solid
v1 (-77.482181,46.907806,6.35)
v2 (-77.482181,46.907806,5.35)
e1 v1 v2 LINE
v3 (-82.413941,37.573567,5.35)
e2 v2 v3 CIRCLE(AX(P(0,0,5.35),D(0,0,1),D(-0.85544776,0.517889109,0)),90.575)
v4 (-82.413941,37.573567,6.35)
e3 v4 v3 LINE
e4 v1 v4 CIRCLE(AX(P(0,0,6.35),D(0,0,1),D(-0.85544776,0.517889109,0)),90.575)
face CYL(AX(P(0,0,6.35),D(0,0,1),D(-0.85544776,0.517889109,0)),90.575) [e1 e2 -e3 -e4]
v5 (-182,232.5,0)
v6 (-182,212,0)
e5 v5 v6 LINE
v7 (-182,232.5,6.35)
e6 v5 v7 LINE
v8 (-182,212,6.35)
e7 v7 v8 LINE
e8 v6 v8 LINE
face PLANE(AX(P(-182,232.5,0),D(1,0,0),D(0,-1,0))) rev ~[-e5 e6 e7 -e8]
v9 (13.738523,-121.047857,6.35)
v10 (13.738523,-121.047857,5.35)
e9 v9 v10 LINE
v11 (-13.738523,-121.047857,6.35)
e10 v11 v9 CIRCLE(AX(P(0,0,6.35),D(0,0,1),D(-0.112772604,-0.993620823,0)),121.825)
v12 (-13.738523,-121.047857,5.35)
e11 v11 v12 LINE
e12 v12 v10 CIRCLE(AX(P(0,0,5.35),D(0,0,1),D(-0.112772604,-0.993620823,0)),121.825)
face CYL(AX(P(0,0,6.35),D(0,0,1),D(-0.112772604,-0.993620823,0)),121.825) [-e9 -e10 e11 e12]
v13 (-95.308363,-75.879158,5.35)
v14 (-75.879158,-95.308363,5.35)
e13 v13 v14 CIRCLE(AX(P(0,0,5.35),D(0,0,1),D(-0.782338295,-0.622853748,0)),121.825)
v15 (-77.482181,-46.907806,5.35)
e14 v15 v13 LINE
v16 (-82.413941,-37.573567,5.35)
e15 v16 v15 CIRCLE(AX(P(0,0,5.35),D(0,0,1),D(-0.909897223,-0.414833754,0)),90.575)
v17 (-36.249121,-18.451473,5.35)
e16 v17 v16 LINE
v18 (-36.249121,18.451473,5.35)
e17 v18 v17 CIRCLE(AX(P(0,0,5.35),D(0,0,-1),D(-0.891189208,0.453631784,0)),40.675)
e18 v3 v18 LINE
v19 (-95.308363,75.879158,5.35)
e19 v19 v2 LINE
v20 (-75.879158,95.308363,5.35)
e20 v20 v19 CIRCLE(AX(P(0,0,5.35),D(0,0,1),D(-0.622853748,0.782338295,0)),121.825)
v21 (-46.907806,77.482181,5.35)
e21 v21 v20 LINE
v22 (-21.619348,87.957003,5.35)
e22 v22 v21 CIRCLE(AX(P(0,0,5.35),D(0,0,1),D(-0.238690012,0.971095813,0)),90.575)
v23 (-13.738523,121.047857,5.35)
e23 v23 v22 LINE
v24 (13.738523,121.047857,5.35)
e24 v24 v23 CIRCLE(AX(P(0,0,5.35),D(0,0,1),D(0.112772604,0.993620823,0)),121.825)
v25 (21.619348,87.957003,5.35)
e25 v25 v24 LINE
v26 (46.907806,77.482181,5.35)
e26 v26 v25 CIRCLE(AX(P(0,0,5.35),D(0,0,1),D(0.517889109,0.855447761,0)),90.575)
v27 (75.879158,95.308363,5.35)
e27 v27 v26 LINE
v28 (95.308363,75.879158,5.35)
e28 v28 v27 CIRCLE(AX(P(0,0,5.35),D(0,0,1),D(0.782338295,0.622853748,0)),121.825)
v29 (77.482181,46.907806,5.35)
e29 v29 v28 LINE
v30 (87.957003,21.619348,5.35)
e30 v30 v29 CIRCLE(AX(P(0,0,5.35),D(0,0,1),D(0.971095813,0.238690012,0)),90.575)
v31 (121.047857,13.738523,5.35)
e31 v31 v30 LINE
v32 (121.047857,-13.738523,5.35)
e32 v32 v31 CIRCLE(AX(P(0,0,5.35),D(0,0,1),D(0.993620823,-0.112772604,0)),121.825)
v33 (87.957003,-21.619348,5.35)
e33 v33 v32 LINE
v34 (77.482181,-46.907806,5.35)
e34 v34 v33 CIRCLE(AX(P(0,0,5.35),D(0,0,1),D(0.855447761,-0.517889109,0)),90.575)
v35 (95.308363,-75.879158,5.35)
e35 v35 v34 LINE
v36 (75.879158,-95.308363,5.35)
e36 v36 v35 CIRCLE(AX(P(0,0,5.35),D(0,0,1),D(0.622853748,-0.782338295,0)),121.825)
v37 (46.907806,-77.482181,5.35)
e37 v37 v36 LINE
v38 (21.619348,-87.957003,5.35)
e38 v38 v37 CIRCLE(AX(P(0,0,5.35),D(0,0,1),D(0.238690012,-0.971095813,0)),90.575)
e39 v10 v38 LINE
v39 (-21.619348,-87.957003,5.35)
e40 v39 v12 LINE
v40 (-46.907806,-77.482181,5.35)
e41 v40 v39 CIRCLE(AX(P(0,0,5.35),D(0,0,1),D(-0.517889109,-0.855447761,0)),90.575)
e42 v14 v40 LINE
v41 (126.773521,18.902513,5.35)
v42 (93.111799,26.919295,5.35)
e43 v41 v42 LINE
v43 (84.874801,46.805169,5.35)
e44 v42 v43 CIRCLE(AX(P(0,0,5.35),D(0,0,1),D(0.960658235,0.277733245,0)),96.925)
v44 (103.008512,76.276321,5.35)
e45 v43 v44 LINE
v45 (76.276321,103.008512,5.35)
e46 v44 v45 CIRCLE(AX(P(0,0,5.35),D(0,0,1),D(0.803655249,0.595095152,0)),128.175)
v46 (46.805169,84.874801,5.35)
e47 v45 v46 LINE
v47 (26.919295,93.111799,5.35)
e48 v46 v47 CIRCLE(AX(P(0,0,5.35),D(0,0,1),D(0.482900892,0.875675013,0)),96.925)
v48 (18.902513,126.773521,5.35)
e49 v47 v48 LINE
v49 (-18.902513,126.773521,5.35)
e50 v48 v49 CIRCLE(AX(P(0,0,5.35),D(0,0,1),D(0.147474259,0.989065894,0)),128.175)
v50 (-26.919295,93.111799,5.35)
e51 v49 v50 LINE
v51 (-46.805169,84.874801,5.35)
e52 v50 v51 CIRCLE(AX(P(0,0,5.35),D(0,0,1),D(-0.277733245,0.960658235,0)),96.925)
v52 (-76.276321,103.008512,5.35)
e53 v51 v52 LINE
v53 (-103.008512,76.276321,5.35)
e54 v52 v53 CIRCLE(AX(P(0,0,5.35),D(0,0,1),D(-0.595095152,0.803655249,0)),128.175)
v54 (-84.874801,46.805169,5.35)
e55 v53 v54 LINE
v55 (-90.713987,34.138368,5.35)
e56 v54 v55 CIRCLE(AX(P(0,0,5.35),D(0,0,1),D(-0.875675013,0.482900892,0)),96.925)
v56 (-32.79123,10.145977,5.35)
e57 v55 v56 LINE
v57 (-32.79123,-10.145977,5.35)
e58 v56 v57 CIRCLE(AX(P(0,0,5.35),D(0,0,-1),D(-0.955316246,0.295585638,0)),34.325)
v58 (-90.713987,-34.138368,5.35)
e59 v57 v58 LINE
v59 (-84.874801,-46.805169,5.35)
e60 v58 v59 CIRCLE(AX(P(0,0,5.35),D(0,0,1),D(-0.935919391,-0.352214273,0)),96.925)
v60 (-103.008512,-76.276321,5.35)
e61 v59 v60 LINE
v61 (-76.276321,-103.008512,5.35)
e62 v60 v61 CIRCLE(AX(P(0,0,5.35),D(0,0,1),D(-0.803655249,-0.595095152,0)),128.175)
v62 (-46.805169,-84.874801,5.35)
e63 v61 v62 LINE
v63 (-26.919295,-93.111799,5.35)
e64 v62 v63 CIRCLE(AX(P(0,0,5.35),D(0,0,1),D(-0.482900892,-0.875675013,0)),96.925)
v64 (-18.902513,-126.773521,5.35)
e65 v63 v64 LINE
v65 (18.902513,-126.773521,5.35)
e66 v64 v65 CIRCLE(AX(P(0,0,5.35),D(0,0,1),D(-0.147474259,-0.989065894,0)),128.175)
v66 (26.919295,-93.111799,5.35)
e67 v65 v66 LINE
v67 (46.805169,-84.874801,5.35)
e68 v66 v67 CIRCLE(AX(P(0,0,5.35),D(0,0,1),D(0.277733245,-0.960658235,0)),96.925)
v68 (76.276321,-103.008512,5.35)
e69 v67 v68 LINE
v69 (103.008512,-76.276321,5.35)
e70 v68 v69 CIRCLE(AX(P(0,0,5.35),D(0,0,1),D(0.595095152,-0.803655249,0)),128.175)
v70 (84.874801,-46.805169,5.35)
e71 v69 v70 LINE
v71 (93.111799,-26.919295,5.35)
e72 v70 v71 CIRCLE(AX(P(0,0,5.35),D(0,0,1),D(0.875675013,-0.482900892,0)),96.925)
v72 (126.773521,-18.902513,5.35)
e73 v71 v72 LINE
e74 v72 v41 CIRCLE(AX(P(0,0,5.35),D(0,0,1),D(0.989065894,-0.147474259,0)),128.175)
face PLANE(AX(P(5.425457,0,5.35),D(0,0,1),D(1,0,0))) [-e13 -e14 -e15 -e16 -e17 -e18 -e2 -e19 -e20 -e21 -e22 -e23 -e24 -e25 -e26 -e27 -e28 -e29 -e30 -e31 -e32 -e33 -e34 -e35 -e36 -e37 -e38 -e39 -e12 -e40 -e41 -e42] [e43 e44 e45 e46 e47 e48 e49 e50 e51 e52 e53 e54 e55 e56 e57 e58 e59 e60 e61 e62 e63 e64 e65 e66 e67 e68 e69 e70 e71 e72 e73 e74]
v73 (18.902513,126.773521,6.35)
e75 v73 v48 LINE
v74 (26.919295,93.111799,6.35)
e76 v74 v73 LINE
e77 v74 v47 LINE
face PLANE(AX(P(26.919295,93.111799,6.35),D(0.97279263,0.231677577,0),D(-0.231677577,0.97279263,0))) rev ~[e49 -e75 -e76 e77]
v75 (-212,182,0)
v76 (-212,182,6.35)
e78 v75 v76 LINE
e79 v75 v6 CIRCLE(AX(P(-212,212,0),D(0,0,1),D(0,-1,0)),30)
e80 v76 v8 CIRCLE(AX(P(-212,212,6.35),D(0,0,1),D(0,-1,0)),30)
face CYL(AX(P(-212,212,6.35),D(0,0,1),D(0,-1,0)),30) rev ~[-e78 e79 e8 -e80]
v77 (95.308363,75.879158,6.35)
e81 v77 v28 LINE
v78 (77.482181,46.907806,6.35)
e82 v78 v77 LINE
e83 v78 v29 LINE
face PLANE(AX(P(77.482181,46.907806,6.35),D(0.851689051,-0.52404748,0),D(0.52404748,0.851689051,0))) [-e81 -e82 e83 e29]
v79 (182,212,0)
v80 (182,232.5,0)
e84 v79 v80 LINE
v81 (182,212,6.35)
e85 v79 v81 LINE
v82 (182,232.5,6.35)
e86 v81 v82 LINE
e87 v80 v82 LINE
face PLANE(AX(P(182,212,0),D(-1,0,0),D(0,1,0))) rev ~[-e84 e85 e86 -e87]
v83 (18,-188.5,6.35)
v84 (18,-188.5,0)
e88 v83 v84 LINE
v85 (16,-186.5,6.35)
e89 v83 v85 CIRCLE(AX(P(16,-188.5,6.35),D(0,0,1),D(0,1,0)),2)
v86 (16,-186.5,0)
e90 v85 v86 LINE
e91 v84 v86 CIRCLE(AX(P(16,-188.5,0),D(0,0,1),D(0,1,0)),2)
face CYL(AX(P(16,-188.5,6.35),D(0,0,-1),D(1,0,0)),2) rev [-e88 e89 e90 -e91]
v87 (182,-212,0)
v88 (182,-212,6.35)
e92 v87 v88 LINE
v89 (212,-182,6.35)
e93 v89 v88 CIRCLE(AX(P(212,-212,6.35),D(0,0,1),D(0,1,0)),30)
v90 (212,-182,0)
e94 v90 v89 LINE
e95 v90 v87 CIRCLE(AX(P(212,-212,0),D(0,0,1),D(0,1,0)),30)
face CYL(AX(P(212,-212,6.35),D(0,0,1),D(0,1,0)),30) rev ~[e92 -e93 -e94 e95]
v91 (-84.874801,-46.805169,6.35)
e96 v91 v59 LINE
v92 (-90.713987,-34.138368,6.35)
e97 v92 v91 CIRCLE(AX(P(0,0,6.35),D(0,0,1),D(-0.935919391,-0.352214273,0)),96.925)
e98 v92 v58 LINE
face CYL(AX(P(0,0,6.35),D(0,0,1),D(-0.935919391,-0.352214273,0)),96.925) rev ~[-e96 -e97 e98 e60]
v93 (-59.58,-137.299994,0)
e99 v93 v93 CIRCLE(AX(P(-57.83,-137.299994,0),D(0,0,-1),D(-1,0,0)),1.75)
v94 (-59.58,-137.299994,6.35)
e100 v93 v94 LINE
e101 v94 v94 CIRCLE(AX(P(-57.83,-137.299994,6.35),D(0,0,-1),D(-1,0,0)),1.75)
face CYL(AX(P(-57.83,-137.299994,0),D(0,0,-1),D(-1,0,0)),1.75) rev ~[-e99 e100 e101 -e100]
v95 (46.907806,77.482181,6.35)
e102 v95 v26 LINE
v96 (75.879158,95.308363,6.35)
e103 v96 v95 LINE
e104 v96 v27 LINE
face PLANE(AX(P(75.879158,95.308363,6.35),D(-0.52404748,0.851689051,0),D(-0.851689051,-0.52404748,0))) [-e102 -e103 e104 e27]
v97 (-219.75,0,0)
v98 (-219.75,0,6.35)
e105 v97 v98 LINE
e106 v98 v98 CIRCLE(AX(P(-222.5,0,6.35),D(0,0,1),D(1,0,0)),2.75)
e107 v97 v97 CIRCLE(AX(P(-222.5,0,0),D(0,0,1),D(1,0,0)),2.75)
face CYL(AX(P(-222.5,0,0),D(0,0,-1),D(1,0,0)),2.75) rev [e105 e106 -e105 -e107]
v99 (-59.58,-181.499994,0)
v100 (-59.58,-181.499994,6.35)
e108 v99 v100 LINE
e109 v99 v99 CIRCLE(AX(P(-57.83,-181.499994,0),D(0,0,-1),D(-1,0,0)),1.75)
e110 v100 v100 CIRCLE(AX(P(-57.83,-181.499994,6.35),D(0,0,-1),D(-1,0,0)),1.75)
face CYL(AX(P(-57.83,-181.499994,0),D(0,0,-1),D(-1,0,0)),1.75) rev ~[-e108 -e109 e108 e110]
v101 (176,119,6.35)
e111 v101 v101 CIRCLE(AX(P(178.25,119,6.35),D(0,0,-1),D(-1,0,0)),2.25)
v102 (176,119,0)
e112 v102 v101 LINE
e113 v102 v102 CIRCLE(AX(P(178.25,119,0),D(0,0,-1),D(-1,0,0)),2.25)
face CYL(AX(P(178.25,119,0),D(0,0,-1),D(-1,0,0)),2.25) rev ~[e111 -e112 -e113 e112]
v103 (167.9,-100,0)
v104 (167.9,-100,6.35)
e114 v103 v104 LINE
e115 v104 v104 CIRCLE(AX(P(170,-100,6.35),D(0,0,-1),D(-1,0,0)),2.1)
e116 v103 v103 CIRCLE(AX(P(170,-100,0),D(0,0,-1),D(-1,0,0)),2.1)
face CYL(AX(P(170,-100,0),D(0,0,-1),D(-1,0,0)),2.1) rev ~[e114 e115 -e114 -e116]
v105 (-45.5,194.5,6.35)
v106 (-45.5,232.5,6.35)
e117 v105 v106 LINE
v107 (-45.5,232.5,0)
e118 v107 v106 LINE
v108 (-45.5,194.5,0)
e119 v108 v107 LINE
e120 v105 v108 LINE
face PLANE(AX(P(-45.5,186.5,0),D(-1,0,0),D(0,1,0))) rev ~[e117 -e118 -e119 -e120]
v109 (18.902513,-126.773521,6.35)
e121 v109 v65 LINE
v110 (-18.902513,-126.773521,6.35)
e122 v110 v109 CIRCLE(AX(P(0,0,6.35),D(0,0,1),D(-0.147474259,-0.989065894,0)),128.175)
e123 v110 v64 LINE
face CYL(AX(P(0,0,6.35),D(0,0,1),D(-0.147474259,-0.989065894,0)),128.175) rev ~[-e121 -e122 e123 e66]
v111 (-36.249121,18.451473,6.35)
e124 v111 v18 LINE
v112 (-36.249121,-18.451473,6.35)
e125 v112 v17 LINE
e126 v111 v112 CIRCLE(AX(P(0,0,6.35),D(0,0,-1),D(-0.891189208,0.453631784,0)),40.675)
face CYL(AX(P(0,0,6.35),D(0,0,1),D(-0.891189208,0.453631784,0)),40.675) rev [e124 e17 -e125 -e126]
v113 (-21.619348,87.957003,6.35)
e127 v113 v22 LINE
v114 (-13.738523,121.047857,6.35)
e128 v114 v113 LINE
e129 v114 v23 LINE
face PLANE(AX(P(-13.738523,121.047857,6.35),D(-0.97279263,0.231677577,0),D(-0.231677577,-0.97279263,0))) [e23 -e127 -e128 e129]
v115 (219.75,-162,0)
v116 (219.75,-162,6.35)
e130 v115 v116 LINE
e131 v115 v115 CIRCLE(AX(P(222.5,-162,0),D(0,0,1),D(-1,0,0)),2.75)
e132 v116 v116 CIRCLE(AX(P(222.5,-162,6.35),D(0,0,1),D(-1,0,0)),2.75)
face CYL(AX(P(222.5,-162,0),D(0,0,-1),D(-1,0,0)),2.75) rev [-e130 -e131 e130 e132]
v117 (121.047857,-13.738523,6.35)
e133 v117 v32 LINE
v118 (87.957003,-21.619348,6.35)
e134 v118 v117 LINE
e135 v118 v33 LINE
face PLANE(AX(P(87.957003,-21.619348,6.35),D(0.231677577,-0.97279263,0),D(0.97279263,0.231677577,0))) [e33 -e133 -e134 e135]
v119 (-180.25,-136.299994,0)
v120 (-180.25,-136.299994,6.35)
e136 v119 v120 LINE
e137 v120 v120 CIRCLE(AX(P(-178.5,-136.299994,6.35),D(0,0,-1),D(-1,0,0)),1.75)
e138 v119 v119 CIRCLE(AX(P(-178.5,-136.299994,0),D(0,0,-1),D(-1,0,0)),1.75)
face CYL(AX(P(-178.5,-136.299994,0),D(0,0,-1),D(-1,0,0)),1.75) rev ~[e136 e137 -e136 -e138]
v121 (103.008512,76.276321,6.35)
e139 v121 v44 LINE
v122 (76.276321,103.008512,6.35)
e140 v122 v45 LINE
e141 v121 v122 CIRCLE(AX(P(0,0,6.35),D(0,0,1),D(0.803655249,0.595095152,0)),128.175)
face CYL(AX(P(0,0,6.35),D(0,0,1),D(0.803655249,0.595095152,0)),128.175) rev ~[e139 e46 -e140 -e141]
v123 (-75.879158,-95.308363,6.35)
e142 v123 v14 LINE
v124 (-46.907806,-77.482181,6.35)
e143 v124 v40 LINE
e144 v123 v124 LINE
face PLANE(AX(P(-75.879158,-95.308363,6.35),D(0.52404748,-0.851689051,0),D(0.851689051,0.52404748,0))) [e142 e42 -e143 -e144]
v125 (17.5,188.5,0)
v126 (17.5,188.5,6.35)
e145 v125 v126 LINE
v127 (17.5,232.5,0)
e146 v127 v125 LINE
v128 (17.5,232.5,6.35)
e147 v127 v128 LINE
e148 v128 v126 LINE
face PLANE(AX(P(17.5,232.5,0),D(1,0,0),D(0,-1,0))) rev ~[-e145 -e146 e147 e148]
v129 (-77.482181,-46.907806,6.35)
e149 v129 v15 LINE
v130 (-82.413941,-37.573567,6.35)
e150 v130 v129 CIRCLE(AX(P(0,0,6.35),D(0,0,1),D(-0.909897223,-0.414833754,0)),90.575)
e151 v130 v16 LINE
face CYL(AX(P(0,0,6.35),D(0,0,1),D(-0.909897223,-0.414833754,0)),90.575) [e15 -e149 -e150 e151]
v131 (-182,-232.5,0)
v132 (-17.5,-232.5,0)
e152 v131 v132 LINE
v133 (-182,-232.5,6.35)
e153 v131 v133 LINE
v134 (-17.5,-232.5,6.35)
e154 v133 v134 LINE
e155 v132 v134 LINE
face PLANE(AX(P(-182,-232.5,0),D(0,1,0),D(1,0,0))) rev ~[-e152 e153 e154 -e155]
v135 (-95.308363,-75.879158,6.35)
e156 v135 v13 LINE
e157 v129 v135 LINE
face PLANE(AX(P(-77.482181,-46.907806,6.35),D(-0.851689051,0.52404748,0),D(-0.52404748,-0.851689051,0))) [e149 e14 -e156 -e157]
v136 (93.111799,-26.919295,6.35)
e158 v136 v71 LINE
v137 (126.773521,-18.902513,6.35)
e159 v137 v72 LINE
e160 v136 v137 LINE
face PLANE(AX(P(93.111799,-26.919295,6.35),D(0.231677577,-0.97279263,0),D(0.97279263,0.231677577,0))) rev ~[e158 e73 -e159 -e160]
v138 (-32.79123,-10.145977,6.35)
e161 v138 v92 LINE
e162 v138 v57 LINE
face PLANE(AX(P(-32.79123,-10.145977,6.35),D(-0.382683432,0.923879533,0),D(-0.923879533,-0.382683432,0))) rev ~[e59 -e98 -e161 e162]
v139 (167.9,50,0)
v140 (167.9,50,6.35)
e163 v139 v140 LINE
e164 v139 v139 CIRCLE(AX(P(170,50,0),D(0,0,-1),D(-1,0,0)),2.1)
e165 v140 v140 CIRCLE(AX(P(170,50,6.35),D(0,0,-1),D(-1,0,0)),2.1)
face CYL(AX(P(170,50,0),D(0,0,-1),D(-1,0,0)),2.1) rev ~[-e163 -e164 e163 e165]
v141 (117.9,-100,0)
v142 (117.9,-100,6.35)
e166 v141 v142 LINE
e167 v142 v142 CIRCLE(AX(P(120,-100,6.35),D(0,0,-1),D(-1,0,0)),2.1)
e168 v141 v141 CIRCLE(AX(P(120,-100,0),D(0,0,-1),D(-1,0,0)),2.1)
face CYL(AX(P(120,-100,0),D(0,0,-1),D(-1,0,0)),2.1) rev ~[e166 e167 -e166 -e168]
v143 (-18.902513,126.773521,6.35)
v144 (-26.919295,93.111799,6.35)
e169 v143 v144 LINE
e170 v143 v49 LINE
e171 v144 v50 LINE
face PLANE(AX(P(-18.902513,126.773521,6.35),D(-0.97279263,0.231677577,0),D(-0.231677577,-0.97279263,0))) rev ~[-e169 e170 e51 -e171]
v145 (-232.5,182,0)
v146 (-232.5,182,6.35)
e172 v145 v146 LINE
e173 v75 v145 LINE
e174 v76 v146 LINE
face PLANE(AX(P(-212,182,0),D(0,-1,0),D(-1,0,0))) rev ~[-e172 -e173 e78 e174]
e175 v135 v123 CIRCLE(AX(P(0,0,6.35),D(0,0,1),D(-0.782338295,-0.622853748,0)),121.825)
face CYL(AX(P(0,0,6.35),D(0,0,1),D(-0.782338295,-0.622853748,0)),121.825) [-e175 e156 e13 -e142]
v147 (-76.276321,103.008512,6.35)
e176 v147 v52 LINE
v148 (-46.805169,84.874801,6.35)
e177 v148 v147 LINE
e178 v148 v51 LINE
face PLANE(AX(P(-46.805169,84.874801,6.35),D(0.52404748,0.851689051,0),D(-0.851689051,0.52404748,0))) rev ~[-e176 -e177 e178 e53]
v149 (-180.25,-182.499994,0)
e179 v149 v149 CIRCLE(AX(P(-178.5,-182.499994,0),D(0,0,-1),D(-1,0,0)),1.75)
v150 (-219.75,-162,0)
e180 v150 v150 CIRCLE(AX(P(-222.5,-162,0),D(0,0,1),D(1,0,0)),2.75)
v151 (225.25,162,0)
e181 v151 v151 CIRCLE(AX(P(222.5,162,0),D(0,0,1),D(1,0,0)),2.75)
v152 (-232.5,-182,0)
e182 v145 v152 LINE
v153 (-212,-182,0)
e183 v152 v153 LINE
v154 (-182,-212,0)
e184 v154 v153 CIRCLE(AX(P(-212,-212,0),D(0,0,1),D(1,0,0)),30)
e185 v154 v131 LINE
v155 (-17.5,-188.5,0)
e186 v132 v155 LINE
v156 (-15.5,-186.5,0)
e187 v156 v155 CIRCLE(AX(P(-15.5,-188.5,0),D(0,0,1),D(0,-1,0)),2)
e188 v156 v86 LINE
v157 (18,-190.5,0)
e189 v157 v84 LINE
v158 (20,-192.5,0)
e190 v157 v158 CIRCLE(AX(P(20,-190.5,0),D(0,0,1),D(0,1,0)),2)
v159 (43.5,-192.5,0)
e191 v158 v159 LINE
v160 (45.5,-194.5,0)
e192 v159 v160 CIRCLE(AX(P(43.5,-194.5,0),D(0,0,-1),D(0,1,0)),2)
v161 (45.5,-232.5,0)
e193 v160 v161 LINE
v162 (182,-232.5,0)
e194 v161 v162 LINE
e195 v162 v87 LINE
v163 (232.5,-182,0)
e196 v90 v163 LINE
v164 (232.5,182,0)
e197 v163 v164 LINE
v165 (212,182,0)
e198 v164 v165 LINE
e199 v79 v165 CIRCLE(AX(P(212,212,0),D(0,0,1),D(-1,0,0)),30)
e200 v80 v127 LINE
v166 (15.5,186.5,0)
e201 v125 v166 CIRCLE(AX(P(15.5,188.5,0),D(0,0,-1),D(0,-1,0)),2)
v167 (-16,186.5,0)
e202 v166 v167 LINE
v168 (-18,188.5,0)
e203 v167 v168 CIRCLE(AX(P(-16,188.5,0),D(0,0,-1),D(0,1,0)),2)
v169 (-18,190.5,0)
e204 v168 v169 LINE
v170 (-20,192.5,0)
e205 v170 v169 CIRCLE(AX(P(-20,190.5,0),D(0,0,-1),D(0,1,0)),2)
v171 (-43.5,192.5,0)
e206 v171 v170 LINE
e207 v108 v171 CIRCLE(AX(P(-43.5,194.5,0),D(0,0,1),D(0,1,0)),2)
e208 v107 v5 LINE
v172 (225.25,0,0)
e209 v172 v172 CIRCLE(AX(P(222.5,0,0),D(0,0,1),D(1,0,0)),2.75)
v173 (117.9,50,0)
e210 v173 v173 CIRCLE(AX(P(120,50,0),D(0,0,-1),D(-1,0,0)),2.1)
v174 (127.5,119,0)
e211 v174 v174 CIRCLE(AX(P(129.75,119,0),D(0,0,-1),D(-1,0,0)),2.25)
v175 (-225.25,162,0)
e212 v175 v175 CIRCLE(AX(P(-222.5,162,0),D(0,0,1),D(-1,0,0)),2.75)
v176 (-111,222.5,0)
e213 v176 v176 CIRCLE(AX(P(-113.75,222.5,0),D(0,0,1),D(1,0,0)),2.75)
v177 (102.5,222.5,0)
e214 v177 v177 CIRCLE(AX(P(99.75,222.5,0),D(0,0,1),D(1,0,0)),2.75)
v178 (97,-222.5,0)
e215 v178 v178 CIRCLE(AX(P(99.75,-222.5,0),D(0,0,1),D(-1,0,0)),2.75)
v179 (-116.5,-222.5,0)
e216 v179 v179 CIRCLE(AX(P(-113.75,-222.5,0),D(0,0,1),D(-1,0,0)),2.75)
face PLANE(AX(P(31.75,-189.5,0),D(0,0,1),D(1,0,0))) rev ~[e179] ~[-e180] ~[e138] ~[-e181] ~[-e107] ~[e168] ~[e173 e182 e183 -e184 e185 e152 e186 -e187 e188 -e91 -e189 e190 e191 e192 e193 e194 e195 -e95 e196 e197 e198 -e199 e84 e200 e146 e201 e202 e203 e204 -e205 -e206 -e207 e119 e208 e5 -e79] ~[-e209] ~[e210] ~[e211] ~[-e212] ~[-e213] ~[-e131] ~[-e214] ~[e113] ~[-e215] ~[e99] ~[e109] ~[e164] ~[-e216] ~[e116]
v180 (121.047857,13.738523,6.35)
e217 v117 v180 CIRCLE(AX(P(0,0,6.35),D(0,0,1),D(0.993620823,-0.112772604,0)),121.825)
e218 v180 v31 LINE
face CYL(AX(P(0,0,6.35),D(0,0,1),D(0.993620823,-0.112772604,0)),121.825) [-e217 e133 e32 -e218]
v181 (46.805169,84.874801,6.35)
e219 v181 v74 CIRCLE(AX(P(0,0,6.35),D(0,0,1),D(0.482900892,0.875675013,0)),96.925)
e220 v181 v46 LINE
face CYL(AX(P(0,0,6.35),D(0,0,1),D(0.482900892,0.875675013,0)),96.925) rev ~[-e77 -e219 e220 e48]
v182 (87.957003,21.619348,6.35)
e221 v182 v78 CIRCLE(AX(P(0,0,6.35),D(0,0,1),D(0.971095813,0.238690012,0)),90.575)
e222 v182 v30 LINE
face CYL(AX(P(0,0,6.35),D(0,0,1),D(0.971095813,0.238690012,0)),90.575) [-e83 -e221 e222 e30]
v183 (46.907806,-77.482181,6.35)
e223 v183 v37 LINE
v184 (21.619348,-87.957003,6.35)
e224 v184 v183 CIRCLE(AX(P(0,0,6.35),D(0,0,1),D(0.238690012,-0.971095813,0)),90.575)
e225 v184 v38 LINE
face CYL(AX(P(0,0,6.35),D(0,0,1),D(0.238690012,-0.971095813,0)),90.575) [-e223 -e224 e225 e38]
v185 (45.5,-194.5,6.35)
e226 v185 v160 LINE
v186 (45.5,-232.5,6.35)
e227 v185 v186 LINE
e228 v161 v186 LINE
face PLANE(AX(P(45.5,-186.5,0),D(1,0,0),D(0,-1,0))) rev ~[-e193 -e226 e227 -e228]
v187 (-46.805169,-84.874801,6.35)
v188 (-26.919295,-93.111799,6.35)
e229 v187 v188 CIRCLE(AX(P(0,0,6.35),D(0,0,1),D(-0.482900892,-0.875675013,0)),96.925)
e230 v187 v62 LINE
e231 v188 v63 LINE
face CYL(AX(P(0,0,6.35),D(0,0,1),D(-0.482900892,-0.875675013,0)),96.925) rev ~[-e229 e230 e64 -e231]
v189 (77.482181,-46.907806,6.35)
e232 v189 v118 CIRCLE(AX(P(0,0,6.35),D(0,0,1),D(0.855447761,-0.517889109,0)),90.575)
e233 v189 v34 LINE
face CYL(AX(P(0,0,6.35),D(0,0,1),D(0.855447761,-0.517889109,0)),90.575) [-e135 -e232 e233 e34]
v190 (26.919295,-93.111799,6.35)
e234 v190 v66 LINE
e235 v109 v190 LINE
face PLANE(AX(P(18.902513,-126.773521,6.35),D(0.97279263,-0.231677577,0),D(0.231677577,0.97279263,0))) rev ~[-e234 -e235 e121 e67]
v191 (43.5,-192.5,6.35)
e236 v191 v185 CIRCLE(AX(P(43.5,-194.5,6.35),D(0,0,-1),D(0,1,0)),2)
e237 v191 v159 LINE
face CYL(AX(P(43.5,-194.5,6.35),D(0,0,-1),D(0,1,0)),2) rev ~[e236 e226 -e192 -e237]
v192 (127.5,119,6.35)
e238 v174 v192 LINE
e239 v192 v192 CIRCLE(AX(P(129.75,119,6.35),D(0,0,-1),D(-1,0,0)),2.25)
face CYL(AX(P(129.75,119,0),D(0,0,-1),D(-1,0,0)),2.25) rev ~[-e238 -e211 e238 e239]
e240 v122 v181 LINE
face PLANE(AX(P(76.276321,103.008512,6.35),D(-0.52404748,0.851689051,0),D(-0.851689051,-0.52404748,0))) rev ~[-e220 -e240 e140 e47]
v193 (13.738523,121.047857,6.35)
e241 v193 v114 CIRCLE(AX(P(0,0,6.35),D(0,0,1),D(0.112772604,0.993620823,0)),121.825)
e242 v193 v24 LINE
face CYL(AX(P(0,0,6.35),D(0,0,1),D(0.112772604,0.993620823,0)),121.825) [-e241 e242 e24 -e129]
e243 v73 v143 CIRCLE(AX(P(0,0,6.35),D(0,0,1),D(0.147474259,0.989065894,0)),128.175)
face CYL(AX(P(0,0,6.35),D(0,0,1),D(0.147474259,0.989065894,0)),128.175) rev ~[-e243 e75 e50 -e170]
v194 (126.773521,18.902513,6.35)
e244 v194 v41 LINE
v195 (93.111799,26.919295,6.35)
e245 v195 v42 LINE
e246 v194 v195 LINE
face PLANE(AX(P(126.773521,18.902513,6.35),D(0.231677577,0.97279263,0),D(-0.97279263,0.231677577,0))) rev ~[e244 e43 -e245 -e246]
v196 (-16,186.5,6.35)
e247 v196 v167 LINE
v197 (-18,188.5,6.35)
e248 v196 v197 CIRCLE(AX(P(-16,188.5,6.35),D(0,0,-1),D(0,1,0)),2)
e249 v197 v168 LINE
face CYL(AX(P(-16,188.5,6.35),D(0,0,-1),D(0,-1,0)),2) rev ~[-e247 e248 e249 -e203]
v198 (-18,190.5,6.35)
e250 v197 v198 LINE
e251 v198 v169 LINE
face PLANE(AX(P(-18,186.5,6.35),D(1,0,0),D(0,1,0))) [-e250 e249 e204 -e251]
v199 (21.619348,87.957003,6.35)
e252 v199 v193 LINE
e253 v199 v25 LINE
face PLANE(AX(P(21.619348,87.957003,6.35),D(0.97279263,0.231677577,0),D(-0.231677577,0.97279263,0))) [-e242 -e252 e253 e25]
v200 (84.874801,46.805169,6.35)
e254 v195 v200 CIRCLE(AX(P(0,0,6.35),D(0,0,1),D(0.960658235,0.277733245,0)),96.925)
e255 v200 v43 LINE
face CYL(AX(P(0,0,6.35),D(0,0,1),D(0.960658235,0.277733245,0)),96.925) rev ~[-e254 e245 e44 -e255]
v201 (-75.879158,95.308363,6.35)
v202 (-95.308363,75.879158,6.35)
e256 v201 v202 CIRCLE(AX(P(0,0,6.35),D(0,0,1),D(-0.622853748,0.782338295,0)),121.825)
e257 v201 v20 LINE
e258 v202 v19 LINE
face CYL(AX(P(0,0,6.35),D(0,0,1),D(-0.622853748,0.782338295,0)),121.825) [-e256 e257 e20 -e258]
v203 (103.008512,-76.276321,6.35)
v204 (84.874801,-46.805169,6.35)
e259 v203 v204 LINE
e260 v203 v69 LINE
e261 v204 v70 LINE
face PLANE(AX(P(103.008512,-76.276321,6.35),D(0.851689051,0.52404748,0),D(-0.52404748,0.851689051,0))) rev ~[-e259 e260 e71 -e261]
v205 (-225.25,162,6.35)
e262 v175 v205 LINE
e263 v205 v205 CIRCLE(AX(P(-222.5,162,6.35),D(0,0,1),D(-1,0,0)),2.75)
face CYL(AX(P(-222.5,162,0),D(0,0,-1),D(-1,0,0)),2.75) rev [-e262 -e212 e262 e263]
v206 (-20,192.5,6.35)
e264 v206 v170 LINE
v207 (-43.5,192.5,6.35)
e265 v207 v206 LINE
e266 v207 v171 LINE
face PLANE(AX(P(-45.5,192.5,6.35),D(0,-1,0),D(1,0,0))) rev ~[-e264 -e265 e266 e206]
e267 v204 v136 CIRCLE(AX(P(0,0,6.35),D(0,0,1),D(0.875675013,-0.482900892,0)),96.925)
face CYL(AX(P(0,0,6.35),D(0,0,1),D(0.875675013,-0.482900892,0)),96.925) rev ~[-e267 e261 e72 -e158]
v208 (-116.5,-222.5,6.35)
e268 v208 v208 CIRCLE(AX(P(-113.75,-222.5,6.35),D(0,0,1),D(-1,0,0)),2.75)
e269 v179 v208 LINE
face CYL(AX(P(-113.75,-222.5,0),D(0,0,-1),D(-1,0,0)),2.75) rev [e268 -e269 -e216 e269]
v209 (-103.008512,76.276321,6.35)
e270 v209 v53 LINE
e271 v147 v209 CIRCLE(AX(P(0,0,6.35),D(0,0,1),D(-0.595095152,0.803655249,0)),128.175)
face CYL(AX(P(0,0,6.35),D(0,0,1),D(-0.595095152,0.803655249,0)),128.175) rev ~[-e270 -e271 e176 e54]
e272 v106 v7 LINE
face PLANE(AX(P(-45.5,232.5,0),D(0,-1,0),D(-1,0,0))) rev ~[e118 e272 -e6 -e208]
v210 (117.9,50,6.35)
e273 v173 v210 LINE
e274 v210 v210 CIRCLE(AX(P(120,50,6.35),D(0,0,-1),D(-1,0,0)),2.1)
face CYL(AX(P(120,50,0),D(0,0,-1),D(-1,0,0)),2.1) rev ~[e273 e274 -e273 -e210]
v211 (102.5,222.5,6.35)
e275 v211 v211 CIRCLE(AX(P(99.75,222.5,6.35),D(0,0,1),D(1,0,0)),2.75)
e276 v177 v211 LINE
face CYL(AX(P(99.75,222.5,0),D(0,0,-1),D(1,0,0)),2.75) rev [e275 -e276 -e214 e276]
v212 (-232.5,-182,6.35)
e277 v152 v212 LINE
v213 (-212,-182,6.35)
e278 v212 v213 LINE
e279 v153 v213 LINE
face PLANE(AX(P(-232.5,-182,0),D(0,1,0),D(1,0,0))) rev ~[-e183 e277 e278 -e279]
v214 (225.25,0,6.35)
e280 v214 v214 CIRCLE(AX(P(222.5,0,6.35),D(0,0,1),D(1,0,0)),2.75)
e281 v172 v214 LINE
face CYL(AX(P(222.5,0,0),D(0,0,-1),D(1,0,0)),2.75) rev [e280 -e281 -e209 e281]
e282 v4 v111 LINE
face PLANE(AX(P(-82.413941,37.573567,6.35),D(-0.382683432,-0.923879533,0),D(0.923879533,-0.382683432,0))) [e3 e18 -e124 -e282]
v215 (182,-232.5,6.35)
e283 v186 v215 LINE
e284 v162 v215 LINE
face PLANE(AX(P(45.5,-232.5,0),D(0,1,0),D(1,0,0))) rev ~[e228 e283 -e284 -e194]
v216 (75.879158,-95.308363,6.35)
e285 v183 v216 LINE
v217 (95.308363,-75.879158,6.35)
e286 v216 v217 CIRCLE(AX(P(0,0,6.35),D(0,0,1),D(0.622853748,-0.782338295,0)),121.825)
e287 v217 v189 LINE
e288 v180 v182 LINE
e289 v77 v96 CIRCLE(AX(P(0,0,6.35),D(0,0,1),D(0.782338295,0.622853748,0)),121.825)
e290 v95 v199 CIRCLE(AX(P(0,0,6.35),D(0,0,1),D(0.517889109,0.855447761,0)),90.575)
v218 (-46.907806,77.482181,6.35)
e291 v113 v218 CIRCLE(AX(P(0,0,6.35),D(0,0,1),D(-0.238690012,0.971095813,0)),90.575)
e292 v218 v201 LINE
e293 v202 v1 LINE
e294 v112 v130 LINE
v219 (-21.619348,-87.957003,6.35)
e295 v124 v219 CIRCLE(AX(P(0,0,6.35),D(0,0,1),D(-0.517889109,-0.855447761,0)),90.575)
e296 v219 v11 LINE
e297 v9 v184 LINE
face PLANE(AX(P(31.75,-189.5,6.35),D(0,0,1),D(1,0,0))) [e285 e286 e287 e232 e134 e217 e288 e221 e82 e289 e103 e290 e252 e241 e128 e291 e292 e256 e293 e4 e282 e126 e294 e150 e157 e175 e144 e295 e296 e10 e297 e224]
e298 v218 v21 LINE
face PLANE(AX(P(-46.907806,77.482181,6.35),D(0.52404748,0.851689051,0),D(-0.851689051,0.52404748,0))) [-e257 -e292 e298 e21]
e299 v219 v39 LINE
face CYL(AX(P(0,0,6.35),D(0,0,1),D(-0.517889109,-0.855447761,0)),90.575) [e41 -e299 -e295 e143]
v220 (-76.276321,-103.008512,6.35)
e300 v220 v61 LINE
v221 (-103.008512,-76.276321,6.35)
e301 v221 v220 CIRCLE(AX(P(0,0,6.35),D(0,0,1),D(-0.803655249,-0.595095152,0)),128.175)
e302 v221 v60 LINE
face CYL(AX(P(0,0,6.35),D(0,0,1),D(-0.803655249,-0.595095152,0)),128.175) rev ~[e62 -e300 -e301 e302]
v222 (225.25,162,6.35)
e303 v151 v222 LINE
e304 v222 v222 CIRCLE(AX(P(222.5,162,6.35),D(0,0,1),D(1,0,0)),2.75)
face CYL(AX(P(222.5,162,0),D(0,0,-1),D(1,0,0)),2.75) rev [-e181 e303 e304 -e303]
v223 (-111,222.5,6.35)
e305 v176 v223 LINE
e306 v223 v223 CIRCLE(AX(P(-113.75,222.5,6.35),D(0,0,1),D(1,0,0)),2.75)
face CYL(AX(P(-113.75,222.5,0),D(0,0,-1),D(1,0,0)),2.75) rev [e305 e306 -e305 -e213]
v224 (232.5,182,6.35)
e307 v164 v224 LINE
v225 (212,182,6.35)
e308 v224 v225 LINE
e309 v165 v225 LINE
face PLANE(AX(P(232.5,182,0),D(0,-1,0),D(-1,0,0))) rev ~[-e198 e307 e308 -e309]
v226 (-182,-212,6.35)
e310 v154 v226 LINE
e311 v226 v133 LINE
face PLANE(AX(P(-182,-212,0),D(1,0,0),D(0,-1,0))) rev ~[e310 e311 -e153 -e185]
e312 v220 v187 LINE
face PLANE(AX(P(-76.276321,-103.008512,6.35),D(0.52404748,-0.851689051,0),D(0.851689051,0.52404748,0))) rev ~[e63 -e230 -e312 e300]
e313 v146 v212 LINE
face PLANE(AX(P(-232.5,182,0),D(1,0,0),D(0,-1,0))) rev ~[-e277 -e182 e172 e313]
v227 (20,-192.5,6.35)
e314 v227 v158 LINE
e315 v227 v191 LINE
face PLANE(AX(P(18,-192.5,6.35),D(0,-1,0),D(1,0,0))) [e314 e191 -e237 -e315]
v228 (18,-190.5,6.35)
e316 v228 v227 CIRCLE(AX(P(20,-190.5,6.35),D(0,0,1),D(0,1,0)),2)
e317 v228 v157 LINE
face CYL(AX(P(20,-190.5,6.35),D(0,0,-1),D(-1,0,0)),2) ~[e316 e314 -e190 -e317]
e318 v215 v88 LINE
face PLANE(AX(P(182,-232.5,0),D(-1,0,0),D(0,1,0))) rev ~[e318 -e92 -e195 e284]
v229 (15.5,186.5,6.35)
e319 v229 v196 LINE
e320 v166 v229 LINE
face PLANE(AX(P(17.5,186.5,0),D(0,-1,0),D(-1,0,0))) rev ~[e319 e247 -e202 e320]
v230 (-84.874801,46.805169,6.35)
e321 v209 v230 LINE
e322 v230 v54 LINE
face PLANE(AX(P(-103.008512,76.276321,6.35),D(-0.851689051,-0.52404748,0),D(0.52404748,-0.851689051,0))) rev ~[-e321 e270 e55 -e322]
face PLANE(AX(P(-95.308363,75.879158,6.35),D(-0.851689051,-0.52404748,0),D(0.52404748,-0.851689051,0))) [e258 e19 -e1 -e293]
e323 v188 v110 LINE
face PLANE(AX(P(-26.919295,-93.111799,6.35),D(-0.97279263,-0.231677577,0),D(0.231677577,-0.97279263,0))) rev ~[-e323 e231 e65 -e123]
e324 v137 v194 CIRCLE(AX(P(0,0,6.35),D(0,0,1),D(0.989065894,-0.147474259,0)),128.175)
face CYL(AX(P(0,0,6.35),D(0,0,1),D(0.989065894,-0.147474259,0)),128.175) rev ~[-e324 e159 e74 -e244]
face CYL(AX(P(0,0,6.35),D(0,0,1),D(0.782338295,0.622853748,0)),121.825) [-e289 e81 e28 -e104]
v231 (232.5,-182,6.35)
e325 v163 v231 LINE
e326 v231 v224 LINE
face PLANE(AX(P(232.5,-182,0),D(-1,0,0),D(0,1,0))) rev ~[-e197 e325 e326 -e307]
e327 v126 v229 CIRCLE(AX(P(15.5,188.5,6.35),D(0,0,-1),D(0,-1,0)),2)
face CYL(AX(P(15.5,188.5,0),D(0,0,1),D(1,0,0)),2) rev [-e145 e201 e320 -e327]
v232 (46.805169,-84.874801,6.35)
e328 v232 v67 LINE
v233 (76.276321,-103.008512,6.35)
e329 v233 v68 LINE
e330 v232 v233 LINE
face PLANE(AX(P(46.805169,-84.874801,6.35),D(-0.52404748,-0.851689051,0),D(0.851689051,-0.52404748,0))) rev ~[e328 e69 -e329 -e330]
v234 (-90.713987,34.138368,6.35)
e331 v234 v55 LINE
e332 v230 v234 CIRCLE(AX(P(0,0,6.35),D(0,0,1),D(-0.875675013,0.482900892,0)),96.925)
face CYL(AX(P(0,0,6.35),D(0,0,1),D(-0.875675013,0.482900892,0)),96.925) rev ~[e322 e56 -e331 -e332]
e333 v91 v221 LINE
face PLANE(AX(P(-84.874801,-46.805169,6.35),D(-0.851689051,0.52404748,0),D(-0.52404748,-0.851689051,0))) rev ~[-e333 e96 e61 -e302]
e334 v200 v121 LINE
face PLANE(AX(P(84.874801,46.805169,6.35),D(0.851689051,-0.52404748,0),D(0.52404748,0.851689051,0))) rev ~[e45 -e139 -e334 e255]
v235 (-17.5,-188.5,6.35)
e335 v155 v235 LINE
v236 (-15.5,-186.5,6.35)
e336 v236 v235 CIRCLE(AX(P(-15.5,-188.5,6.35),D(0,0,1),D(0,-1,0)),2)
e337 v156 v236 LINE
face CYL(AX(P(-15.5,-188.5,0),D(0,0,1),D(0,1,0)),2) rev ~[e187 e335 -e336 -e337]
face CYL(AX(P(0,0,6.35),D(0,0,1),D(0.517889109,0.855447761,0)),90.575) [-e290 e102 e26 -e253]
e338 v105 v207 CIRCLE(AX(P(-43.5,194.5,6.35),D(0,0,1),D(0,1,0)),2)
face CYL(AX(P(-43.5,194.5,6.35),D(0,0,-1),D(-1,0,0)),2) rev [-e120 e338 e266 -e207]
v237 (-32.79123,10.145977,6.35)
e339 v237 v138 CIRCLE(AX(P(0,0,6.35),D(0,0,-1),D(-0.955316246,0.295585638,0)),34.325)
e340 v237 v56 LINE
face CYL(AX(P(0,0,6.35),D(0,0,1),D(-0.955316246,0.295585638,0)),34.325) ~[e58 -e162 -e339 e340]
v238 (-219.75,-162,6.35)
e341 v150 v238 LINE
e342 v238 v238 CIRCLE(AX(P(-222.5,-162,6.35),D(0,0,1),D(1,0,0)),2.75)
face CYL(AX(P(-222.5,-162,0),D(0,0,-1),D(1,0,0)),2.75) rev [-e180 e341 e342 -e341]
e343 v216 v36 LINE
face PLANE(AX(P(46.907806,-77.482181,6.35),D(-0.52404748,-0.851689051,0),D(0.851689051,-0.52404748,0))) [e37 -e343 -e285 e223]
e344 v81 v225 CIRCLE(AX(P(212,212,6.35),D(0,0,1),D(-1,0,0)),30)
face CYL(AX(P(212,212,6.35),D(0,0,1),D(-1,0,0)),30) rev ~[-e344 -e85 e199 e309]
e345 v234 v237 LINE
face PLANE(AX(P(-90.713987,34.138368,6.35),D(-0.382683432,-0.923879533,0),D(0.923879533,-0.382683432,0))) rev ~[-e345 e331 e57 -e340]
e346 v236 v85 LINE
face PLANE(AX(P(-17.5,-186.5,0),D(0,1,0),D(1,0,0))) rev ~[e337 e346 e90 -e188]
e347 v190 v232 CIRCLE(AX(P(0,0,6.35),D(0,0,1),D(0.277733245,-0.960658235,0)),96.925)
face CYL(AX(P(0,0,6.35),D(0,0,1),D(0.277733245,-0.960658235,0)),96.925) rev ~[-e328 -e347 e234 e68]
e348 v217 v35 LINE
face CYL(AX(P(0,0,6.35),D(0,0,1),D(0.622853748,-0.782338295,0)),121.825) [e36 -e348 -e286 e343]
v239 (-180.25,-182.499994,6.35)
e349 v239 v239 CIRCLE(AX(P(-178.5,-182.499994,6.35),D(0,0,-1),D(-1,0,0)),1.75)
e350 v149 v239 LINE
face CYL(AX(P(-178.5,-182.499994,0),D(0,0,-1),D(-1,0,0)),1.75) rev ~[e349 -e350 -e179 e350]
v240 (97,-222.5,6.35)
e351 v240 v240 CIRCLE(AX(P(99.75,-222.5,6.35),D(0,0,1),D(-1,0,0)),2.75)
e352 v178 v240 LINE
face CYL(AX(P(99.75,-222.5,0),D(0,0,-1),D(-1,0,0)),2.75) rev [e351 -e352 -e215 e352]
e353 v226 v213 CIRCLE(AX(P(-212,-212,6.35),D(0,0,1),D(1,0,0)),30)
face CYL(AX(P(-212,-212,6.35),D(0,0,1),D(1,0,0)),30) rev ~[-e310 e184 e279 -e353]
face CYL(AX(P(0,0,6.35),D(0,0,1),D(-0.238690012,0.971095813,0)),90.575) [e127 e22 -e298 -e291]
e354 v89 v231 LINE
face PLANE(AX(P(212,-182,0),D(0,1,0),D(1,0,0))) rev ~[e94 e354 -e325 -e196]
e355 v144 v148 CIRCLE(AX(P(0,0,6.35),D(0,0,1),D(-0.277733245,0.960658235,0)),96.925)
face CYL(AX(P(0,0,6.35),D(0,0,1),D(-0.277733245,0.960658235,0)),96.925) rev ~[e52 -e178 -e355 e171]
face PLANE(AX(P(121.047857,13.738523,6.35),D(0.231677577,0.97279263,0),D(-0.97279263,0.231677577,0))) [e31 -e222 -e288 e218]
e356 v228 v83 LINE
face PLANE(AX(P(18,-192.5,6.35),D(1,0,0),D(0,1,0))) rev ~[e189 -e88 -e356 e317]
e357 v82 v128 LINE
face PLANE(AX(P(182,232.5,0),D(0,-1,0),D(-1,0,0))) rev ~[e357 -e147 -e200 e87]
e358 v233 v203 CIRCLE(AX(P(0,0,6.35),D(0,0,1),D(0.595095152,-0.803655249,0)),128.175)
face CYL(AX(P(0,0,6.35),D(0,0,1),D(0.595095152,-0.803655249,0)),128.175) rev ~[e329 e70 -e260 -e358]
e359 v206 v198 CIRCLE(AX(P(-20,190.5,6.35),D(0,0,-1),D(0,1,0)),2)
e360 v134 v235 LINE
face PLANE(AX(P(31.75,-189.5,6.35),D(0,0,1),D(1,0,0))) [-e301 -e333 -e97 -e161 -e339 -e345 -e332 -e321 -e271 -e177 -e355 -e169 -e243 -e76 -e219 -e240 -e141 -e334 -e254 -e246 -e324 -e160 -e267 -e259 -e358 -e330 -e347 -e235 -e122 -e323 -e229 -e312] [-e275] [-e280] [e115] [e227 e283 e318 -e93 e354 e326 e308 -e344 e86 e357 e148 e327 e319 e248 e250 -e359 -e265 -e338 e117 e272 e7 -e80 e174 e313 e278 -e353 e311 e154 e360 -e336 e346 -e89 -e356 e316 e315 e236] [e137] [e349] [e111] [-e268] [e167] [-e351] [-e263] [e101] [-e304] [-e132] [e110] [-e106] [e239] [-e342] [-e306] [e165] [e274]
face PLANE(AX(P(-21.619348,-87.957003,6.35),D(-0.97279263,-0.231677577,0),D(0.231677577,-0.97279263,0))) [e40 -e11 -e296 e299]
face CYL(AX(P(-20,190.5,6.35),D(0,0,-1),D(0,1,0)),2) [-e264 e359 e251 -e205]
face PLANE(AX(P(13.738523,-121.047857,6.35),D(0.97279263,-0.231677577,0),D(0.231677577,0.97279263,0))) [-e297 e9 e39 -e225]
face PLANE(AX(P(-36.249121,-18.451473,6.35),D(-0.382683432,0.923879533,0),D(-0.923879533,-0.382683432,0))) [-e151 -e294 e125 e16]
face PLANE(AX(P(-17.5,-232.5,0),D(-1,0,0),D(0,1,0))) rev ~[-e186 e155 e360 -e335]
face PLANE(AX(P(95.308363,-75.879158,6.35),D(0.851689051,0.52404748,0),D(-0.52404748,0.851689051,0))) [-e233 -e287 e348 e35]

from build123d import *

# Parameters (mm, degrees)
SKETCH1_R           = 2.75
BOSS_EXTRUDE1_DEPTH = 6.35
SKETCH4_W           = 27.5
SKETCH4_H           = 6
BOSS_EXTRUDE2_DEPTH = 6.35
CUT_EXTRUDE1_DEPTH  = 6.35
CUT_EXTRUDE2_DEPTH  = 1
FILLET1_R           = 2
SKETCH5_R           = 2.25
SKETCH5_R_2         = 1.75
SKETCH5_R_3         = 2.1
CUT_EXTRUDE3_DEPTH  = 329.865964338


with BuildPart() as part:
    # Sketch1 → Boss-Extrude1 (new body)
    with BuildSketch(Plane.XY):
        Polygon((182, -212), (212, -212), (212, -182), (232.5, -182), (232.5, 0), (232.5, 182), (212, 182), (212, 212), (182, 212), (182, 232.5), (17.5, 232.5), (17.5, 186.5), (-45.5, 186.5), (-45.5, 232.5), (-182, 232.5), (-182, 212), (-212, 212), (-212, 182), (-232.5, 182), (-232.5, 0), (-232.5, -182), (-212, -182), (-212, -212), (-182, -212), (-182, -232.5), (-17.5, -232.5), (-17.5, -186.5), (45.5, -186.5), (45.5, -232.5), (182, -232.5), align=None)
        with Locations((-222.5, -162)):
            Circle(SKETCH1_R, mode=Mode.SUBTRACT)
        with Locations(Location((222.5, -162, 0), (0, 0, 180))):
            Circle(SKETCH1_R, mode=Mode.SUBTRACT)
        with Locations((222.5, 162)):
            Circle(SKETCH1_R, mode=Mode.SUBTRACT)
        with Locations(Location((-222.5, 162, 0), (0, 0, 180))):
            Circle(SKETCH1_R, mode=Mode.SUBTRACT)
        with Locations((-222.5, 0)):
            Circle(SKETCH1_R, mode=Mode.SUBTRACT)
        with Locations((222.5, 0)):
            Circle(SKETCH1_R, mode=Mode.SUBTRACT)
        with Locations((-113.75, 222.5)):
            Circle(SKETCH1_R, mode=Mode.SUBTRACT)
        with Locations((99.75, 222.5)):
            Circle(SKETCH1_R, mode=Mode.SUBTRACT)
        with Locations(Location((99.75, -222.5, 0), (0, 0, 180))):
            Circle(SKETCH1_R, mode=Mode.SUBTRACT)
        with Locations(Location((-113.75, -222.5, 0), (0, 0, 180))):
            Circle(SKETCH1_R, mode=Mode.SUBTRACT)
    extrude(amount=BOSS_EXTRUDE1_DEPTH)

    # Sketch4 → Boss-Extrude2 (add)
    with BuildSketch(Plane.XY.offset(6.35)):
        with Locations((31.75, -189.5)):
            Rectangle(SKETCH4_W, SKETCH4_H)
        with Locations((-31.75, 189.5)):
            Rectangle(SKETCH4_W, SKETCH4_H)
    extrude(amount=-BOSS_EXTRUDE2_DEPTH)

    # Sketch2 → Cut-Extrude1 (cut)
    with BuildSketch(Plane.XY.offset(6.35)):
        with BuildLine():
            Line((212, 212), (182, 212))
            ThreePointArc((182, 212), (190.786796564, 190.786796564), (212, 182))
            Line((212, 182), (212, 212))
        make_face()
        with BuildLine():
            Line((182, -212), (212, -212))
            Line((212, -212), (212, -182))
            ThreePointArc((212, -182), (190.786796564, -190.786796564), (182, -212))
        make_face()
        with BuildLine():
            Line((-212, -212), (-182, -212))
            ThreePointArc((-182, -212), (-190.786796564, -190.786796564), (-212, -182))
            Line((-212, -182), (-212, -212))
        make_face()
        with BuildLine():
            Line((-212, 212), (-212, 182))
            ThreePointArc((-212, 182), (-190.786796564, 190.786796564), (-182, 212))
            Line((-182, 212), (-212, 212))
        make_face()
    extrude(amount=-CUT_EXTRUDE1_DEPTH, mode=Mode.SUBTRACT)

    # Sketch3 → Cut-Extrude2 (cut)
    with BuildSketch(Plane.XY.offset(6.35)):
        with BuildLine():
            Line((-90.71398693, 34.138368447), (-32.791230158, 10.145977022))
            ThreePointArc((-32.791230158, 10.145977022), (34.325, 0), (-32.791230158, -10.145977022))
            Line((-32.791230158, -10.145977022), (-90.71398693, -34.138368447))
            ThreePointArc((-90.71398693, -34.138368447), (-88.022539954, -40.576940312), (-84.874800654, -46.805168935))
            Line((-84.874800654, -46.805168935), (-103.008511577, -76.276321146))
            ThreePointArc((-103.008511577, -76.276321146), (-90.633411679, -90.633411679), (-76.276321146, -103.008511577))
            Line((-76.276321146, -103.008511577), (-46.805168935, -84.874800654))
            ThreePointArc((-46.805168935, -84.874800654), (-37.091591682, -89.547023689), (-26.919294746, -93.111799442))
            Line((-26.919294746, -93.111799442), (-18.90251313, -126.773520983))
            ThreePointArc((-18.90251313, -126.773520983), (0, -128.175), (18.90251313, -126.773520983))
            Line((18.90251313, -126.773520983), (26.919294746, -93.111799442))
            ThreePointArc((26.919294746, -93.111799442), (37.091591682, -89.547023689), (46.805168935, -84.874800654))
            Line((46.805168935, -84.874800654), (76.276321146, -103.008511577))
            ThreePointArc((76.276321146, -103.008511577), (90.633411679, -90.633411679), (103.008511577, -76.276321146))
            Line((103.008511577, -76.276321146), (84.874800654, -46.805168935))
            ThreePointArc((84.874800654, -46.805168935), (89.547023689, -37.091591682), (93.111799442, -26.919294746))
            Line((93.111799442, -26.919294746), (126.773520983, -18.90251313))
            ThreePointArc((126.773520983, -18.90251313), (128.175, 0), (126.773520983, 18.90251313))
            Line((126.773520983, 18.90251313), (93.111799442, 26.919294746))
            ThreePointArc((93.111799442, 26.919294746), (89.547023689, 37.091591682), (84.874800654, 46.805168935))
            Line((84.874800654, 46.805168935), (103.008511577, 76.276321146))
            ThreePointArc((103.008511577, 76.276321146), (90.633411679, 90.633411679), (76.276321146, 103.008511577))
            Line((76.276321146, 103.008511577), (46.805168935, 84.874800654))
            ThreePointArc((46.805168935, 84.874800654), (37.091591682, 89.547023689), (26.919294746, 93.111799442))
            Line((26.919294746, 93.111799442), (18.90251313, 126.773520983))
            ThreePointArc((18.90251313, 126.773520983), (0, 128.175), (-18.90251313, 126.773520983))
            Line((-18.90251313, 126.773520983), (-26.919294746, 93.111799442))
            ThreePointArc((-26.919294746, 93.111799442), (-37.091591682, 89.547023689), (-46.805168935, 84.874800654))
            Line((-46.805168935, 84.874800654), (-76.276321146, 103.008511577))
            ThreePointArc((-76.276321146, 103.008511577), (-90.633411679, 90.633411679), (-103.008511577, 76.276321146))
            Line((-103.008511577, 76.276321146), (-84.874800654, 46.805168935))
            ThreePointArc((-84.874800654, 46.805168935), (-88.022539954, 40.576940312), (-90.71398693, 34.138368447))
        make_face()
        with BuildLine():
            Line((-82.41394096, 37.57356731), (-36.249121046, 18.451472797))
            ThreePointArc((-36.249121046, 18.451472797), (40.675, 0), (-36.249121046, -18.451472797))
            Line((-36.249121046, -18.451472797), (-82.41394096, -37.57356731))
            ThreePointArc((-82.41394096, -37.57356731), (-80.084171036, -42.312600659), (-77.482180911, -46.907806027))
            Line((-77.482180911, -46.907806027), (-95.308362806, -75.879157904))
            ThreePointArc((-95.308362806, -75.879157904), (-86.143283618, -86.143283618), (-75.879157904, -95.308362806))
            Line((-75.879157904, -95.308362806), (-46.907806027, -77.482180911))
            ThreePointArc((-46.907806027, -77.482180911), (-34.661551886, -83.680388657), (-21.619347811, -87.957003276))
            Line((-21.619347811, -87.957003276), (-13.73852254, -121.047856749))
            ThreePointArc((-13.73852254, -121.047856749), (0, -121.825), (13.73852254, -121.047856749))
            Line((13.73852254, -121.047856749), (21.619347811, -87.957003276))
            ThreePointArc((21.619347811, -87.957003276), (34.661551886, -83.680388657), (46.907806027, -77.482180911))
            Line((46.907806027, -77.482180911), (75.879157904, -95.308362806))
            ThreePointArc((75.879157904, -95.308362806), (86.143283618, -86.143283618), (95.308362806, -75.879157904))
            Line((95.308362806, -75.879157904), (77.482180911, -46.907806027))
            ThreePointArc((77.482180911, -46.907806027), (83.680388657, -34.661551886), (87.957003276, -21.619347811))
            Line((87.957003276, -21.619347811), (121.047856749, -13.73852254))
            ThreePointArc((121.047856749, -13.73852254), (121.825, 0), (121.047856749, 13.73852254))
            Line((121.047856749, 13.73852254), (87.957003276, 21.619347811))
            ThreePointArc((87.957003276, 21.619347811), (83.680388657, 34.661551886), (77.482180911, 46.907806027))
            Line((77.482180911, 46.907806027), (95.308362806, 75.879157904))
            ThreePointArc((95.308362806, 75.879157904), (86.143283618, 86.143283618), (75.879157904, 95.308362806))
            Line((75.879157904, 95.308362806), (46.907806027, 77.482180911))
            ThreePointArc((46.907806027, 77.482180911), (34.661551886, 83.680388657), (21.619347811, 87.957003276))
            Line((21.619347811, 87.957003276), (13.73852254, 121.047856749))
            ThreePointArc((13.73852254, 121.047856749), (0, 121.825), (-13.73852254, 121.047856749))
            Line((-13.73852254, 121.047856749), (-21.619347811, 87.957003276))
            ThreePointArc((-21.619347811, 87.957003276), (-34.661551886, 83.680388657), (-46.907806027, 77.482180911))
            Line((-46.907806027, 77.482180911), (-75.879157904, 95.308362806))
            ThreePointArc((-75.879157904, 95.308362806), (-86.143283618, 86.143283618), (-95.308362806, 75.879157904))
            Line((-95.308362806, 75.879157904), (-77.482180911, 46.907806027))
            ThreePointArc((-77.482180911, 46.907806027), (-80.084171036, 42.312600659), (-82.41394096, 37.57356731))
        make_face(mode=Mode.SUBTRACT)
    extrude(amount=-CUT_EXTRUDE2_DEPTH, mode=Mode.SUBTRACT)

    # Fillet1
    fillet1_edges = [part.edges().sort_by_distance(p)[0] for p in [
        (45.5, -192.5, 3.175),
        (18, -192.5, 3.175),
        (18, -186.5, 3.175),
        (-45.5, 192.5, 3.175),
        (-18, 192.5, 3.175),
        (-18, 186.5, 3.175),
        (17.5, 186.5, 3.175),
        (-17.5, -186.5, 3.175),
    ]]
    fillet(fillet1_edges, radius=FILLET1_R)

    # Sketch5 → Cut-Extrude3 (cut, through all)
    with BuildSketch(Plane(origin=(0, 0, 0), x_dir=(-1, 0, 0), z_dir=(0, 0, -1))):
        with Locations((-129.75, 119)):
            Circle(SKETCH5_R)
        with Locations((57.83, -137.299993563)):
            Circle(SKETCH5_R_2)
        with Locations((178.5, -136.299993563)):
            Circle(SKETCH5_R_2)
        with Locations((-178.25, 119)):
            Circle(SKETCH5_R)
        with Locations((178.5, -182.499993563)):
            Circle(SKETCH5_R_2)
        with Locations((57.83, -181.499993563)):
            Circle(SKETCH5_R_2)
        with Locations((-170, 50)):
            Circle(SKETCH5_R_3)
        with Locations((-120, 50)):
            Circle(SKETCH5_R_3)
        with Locations((-170, -100)):
            Circle(SKETCH5_R_3)
        with Locations((-120, -100)):
            Circle(SKETCH5_R_3)
    extrude(amount=-CUT_EXTRUDE3_DEPTH, mode=Mode.SUBTRACT)


solid = part.part
